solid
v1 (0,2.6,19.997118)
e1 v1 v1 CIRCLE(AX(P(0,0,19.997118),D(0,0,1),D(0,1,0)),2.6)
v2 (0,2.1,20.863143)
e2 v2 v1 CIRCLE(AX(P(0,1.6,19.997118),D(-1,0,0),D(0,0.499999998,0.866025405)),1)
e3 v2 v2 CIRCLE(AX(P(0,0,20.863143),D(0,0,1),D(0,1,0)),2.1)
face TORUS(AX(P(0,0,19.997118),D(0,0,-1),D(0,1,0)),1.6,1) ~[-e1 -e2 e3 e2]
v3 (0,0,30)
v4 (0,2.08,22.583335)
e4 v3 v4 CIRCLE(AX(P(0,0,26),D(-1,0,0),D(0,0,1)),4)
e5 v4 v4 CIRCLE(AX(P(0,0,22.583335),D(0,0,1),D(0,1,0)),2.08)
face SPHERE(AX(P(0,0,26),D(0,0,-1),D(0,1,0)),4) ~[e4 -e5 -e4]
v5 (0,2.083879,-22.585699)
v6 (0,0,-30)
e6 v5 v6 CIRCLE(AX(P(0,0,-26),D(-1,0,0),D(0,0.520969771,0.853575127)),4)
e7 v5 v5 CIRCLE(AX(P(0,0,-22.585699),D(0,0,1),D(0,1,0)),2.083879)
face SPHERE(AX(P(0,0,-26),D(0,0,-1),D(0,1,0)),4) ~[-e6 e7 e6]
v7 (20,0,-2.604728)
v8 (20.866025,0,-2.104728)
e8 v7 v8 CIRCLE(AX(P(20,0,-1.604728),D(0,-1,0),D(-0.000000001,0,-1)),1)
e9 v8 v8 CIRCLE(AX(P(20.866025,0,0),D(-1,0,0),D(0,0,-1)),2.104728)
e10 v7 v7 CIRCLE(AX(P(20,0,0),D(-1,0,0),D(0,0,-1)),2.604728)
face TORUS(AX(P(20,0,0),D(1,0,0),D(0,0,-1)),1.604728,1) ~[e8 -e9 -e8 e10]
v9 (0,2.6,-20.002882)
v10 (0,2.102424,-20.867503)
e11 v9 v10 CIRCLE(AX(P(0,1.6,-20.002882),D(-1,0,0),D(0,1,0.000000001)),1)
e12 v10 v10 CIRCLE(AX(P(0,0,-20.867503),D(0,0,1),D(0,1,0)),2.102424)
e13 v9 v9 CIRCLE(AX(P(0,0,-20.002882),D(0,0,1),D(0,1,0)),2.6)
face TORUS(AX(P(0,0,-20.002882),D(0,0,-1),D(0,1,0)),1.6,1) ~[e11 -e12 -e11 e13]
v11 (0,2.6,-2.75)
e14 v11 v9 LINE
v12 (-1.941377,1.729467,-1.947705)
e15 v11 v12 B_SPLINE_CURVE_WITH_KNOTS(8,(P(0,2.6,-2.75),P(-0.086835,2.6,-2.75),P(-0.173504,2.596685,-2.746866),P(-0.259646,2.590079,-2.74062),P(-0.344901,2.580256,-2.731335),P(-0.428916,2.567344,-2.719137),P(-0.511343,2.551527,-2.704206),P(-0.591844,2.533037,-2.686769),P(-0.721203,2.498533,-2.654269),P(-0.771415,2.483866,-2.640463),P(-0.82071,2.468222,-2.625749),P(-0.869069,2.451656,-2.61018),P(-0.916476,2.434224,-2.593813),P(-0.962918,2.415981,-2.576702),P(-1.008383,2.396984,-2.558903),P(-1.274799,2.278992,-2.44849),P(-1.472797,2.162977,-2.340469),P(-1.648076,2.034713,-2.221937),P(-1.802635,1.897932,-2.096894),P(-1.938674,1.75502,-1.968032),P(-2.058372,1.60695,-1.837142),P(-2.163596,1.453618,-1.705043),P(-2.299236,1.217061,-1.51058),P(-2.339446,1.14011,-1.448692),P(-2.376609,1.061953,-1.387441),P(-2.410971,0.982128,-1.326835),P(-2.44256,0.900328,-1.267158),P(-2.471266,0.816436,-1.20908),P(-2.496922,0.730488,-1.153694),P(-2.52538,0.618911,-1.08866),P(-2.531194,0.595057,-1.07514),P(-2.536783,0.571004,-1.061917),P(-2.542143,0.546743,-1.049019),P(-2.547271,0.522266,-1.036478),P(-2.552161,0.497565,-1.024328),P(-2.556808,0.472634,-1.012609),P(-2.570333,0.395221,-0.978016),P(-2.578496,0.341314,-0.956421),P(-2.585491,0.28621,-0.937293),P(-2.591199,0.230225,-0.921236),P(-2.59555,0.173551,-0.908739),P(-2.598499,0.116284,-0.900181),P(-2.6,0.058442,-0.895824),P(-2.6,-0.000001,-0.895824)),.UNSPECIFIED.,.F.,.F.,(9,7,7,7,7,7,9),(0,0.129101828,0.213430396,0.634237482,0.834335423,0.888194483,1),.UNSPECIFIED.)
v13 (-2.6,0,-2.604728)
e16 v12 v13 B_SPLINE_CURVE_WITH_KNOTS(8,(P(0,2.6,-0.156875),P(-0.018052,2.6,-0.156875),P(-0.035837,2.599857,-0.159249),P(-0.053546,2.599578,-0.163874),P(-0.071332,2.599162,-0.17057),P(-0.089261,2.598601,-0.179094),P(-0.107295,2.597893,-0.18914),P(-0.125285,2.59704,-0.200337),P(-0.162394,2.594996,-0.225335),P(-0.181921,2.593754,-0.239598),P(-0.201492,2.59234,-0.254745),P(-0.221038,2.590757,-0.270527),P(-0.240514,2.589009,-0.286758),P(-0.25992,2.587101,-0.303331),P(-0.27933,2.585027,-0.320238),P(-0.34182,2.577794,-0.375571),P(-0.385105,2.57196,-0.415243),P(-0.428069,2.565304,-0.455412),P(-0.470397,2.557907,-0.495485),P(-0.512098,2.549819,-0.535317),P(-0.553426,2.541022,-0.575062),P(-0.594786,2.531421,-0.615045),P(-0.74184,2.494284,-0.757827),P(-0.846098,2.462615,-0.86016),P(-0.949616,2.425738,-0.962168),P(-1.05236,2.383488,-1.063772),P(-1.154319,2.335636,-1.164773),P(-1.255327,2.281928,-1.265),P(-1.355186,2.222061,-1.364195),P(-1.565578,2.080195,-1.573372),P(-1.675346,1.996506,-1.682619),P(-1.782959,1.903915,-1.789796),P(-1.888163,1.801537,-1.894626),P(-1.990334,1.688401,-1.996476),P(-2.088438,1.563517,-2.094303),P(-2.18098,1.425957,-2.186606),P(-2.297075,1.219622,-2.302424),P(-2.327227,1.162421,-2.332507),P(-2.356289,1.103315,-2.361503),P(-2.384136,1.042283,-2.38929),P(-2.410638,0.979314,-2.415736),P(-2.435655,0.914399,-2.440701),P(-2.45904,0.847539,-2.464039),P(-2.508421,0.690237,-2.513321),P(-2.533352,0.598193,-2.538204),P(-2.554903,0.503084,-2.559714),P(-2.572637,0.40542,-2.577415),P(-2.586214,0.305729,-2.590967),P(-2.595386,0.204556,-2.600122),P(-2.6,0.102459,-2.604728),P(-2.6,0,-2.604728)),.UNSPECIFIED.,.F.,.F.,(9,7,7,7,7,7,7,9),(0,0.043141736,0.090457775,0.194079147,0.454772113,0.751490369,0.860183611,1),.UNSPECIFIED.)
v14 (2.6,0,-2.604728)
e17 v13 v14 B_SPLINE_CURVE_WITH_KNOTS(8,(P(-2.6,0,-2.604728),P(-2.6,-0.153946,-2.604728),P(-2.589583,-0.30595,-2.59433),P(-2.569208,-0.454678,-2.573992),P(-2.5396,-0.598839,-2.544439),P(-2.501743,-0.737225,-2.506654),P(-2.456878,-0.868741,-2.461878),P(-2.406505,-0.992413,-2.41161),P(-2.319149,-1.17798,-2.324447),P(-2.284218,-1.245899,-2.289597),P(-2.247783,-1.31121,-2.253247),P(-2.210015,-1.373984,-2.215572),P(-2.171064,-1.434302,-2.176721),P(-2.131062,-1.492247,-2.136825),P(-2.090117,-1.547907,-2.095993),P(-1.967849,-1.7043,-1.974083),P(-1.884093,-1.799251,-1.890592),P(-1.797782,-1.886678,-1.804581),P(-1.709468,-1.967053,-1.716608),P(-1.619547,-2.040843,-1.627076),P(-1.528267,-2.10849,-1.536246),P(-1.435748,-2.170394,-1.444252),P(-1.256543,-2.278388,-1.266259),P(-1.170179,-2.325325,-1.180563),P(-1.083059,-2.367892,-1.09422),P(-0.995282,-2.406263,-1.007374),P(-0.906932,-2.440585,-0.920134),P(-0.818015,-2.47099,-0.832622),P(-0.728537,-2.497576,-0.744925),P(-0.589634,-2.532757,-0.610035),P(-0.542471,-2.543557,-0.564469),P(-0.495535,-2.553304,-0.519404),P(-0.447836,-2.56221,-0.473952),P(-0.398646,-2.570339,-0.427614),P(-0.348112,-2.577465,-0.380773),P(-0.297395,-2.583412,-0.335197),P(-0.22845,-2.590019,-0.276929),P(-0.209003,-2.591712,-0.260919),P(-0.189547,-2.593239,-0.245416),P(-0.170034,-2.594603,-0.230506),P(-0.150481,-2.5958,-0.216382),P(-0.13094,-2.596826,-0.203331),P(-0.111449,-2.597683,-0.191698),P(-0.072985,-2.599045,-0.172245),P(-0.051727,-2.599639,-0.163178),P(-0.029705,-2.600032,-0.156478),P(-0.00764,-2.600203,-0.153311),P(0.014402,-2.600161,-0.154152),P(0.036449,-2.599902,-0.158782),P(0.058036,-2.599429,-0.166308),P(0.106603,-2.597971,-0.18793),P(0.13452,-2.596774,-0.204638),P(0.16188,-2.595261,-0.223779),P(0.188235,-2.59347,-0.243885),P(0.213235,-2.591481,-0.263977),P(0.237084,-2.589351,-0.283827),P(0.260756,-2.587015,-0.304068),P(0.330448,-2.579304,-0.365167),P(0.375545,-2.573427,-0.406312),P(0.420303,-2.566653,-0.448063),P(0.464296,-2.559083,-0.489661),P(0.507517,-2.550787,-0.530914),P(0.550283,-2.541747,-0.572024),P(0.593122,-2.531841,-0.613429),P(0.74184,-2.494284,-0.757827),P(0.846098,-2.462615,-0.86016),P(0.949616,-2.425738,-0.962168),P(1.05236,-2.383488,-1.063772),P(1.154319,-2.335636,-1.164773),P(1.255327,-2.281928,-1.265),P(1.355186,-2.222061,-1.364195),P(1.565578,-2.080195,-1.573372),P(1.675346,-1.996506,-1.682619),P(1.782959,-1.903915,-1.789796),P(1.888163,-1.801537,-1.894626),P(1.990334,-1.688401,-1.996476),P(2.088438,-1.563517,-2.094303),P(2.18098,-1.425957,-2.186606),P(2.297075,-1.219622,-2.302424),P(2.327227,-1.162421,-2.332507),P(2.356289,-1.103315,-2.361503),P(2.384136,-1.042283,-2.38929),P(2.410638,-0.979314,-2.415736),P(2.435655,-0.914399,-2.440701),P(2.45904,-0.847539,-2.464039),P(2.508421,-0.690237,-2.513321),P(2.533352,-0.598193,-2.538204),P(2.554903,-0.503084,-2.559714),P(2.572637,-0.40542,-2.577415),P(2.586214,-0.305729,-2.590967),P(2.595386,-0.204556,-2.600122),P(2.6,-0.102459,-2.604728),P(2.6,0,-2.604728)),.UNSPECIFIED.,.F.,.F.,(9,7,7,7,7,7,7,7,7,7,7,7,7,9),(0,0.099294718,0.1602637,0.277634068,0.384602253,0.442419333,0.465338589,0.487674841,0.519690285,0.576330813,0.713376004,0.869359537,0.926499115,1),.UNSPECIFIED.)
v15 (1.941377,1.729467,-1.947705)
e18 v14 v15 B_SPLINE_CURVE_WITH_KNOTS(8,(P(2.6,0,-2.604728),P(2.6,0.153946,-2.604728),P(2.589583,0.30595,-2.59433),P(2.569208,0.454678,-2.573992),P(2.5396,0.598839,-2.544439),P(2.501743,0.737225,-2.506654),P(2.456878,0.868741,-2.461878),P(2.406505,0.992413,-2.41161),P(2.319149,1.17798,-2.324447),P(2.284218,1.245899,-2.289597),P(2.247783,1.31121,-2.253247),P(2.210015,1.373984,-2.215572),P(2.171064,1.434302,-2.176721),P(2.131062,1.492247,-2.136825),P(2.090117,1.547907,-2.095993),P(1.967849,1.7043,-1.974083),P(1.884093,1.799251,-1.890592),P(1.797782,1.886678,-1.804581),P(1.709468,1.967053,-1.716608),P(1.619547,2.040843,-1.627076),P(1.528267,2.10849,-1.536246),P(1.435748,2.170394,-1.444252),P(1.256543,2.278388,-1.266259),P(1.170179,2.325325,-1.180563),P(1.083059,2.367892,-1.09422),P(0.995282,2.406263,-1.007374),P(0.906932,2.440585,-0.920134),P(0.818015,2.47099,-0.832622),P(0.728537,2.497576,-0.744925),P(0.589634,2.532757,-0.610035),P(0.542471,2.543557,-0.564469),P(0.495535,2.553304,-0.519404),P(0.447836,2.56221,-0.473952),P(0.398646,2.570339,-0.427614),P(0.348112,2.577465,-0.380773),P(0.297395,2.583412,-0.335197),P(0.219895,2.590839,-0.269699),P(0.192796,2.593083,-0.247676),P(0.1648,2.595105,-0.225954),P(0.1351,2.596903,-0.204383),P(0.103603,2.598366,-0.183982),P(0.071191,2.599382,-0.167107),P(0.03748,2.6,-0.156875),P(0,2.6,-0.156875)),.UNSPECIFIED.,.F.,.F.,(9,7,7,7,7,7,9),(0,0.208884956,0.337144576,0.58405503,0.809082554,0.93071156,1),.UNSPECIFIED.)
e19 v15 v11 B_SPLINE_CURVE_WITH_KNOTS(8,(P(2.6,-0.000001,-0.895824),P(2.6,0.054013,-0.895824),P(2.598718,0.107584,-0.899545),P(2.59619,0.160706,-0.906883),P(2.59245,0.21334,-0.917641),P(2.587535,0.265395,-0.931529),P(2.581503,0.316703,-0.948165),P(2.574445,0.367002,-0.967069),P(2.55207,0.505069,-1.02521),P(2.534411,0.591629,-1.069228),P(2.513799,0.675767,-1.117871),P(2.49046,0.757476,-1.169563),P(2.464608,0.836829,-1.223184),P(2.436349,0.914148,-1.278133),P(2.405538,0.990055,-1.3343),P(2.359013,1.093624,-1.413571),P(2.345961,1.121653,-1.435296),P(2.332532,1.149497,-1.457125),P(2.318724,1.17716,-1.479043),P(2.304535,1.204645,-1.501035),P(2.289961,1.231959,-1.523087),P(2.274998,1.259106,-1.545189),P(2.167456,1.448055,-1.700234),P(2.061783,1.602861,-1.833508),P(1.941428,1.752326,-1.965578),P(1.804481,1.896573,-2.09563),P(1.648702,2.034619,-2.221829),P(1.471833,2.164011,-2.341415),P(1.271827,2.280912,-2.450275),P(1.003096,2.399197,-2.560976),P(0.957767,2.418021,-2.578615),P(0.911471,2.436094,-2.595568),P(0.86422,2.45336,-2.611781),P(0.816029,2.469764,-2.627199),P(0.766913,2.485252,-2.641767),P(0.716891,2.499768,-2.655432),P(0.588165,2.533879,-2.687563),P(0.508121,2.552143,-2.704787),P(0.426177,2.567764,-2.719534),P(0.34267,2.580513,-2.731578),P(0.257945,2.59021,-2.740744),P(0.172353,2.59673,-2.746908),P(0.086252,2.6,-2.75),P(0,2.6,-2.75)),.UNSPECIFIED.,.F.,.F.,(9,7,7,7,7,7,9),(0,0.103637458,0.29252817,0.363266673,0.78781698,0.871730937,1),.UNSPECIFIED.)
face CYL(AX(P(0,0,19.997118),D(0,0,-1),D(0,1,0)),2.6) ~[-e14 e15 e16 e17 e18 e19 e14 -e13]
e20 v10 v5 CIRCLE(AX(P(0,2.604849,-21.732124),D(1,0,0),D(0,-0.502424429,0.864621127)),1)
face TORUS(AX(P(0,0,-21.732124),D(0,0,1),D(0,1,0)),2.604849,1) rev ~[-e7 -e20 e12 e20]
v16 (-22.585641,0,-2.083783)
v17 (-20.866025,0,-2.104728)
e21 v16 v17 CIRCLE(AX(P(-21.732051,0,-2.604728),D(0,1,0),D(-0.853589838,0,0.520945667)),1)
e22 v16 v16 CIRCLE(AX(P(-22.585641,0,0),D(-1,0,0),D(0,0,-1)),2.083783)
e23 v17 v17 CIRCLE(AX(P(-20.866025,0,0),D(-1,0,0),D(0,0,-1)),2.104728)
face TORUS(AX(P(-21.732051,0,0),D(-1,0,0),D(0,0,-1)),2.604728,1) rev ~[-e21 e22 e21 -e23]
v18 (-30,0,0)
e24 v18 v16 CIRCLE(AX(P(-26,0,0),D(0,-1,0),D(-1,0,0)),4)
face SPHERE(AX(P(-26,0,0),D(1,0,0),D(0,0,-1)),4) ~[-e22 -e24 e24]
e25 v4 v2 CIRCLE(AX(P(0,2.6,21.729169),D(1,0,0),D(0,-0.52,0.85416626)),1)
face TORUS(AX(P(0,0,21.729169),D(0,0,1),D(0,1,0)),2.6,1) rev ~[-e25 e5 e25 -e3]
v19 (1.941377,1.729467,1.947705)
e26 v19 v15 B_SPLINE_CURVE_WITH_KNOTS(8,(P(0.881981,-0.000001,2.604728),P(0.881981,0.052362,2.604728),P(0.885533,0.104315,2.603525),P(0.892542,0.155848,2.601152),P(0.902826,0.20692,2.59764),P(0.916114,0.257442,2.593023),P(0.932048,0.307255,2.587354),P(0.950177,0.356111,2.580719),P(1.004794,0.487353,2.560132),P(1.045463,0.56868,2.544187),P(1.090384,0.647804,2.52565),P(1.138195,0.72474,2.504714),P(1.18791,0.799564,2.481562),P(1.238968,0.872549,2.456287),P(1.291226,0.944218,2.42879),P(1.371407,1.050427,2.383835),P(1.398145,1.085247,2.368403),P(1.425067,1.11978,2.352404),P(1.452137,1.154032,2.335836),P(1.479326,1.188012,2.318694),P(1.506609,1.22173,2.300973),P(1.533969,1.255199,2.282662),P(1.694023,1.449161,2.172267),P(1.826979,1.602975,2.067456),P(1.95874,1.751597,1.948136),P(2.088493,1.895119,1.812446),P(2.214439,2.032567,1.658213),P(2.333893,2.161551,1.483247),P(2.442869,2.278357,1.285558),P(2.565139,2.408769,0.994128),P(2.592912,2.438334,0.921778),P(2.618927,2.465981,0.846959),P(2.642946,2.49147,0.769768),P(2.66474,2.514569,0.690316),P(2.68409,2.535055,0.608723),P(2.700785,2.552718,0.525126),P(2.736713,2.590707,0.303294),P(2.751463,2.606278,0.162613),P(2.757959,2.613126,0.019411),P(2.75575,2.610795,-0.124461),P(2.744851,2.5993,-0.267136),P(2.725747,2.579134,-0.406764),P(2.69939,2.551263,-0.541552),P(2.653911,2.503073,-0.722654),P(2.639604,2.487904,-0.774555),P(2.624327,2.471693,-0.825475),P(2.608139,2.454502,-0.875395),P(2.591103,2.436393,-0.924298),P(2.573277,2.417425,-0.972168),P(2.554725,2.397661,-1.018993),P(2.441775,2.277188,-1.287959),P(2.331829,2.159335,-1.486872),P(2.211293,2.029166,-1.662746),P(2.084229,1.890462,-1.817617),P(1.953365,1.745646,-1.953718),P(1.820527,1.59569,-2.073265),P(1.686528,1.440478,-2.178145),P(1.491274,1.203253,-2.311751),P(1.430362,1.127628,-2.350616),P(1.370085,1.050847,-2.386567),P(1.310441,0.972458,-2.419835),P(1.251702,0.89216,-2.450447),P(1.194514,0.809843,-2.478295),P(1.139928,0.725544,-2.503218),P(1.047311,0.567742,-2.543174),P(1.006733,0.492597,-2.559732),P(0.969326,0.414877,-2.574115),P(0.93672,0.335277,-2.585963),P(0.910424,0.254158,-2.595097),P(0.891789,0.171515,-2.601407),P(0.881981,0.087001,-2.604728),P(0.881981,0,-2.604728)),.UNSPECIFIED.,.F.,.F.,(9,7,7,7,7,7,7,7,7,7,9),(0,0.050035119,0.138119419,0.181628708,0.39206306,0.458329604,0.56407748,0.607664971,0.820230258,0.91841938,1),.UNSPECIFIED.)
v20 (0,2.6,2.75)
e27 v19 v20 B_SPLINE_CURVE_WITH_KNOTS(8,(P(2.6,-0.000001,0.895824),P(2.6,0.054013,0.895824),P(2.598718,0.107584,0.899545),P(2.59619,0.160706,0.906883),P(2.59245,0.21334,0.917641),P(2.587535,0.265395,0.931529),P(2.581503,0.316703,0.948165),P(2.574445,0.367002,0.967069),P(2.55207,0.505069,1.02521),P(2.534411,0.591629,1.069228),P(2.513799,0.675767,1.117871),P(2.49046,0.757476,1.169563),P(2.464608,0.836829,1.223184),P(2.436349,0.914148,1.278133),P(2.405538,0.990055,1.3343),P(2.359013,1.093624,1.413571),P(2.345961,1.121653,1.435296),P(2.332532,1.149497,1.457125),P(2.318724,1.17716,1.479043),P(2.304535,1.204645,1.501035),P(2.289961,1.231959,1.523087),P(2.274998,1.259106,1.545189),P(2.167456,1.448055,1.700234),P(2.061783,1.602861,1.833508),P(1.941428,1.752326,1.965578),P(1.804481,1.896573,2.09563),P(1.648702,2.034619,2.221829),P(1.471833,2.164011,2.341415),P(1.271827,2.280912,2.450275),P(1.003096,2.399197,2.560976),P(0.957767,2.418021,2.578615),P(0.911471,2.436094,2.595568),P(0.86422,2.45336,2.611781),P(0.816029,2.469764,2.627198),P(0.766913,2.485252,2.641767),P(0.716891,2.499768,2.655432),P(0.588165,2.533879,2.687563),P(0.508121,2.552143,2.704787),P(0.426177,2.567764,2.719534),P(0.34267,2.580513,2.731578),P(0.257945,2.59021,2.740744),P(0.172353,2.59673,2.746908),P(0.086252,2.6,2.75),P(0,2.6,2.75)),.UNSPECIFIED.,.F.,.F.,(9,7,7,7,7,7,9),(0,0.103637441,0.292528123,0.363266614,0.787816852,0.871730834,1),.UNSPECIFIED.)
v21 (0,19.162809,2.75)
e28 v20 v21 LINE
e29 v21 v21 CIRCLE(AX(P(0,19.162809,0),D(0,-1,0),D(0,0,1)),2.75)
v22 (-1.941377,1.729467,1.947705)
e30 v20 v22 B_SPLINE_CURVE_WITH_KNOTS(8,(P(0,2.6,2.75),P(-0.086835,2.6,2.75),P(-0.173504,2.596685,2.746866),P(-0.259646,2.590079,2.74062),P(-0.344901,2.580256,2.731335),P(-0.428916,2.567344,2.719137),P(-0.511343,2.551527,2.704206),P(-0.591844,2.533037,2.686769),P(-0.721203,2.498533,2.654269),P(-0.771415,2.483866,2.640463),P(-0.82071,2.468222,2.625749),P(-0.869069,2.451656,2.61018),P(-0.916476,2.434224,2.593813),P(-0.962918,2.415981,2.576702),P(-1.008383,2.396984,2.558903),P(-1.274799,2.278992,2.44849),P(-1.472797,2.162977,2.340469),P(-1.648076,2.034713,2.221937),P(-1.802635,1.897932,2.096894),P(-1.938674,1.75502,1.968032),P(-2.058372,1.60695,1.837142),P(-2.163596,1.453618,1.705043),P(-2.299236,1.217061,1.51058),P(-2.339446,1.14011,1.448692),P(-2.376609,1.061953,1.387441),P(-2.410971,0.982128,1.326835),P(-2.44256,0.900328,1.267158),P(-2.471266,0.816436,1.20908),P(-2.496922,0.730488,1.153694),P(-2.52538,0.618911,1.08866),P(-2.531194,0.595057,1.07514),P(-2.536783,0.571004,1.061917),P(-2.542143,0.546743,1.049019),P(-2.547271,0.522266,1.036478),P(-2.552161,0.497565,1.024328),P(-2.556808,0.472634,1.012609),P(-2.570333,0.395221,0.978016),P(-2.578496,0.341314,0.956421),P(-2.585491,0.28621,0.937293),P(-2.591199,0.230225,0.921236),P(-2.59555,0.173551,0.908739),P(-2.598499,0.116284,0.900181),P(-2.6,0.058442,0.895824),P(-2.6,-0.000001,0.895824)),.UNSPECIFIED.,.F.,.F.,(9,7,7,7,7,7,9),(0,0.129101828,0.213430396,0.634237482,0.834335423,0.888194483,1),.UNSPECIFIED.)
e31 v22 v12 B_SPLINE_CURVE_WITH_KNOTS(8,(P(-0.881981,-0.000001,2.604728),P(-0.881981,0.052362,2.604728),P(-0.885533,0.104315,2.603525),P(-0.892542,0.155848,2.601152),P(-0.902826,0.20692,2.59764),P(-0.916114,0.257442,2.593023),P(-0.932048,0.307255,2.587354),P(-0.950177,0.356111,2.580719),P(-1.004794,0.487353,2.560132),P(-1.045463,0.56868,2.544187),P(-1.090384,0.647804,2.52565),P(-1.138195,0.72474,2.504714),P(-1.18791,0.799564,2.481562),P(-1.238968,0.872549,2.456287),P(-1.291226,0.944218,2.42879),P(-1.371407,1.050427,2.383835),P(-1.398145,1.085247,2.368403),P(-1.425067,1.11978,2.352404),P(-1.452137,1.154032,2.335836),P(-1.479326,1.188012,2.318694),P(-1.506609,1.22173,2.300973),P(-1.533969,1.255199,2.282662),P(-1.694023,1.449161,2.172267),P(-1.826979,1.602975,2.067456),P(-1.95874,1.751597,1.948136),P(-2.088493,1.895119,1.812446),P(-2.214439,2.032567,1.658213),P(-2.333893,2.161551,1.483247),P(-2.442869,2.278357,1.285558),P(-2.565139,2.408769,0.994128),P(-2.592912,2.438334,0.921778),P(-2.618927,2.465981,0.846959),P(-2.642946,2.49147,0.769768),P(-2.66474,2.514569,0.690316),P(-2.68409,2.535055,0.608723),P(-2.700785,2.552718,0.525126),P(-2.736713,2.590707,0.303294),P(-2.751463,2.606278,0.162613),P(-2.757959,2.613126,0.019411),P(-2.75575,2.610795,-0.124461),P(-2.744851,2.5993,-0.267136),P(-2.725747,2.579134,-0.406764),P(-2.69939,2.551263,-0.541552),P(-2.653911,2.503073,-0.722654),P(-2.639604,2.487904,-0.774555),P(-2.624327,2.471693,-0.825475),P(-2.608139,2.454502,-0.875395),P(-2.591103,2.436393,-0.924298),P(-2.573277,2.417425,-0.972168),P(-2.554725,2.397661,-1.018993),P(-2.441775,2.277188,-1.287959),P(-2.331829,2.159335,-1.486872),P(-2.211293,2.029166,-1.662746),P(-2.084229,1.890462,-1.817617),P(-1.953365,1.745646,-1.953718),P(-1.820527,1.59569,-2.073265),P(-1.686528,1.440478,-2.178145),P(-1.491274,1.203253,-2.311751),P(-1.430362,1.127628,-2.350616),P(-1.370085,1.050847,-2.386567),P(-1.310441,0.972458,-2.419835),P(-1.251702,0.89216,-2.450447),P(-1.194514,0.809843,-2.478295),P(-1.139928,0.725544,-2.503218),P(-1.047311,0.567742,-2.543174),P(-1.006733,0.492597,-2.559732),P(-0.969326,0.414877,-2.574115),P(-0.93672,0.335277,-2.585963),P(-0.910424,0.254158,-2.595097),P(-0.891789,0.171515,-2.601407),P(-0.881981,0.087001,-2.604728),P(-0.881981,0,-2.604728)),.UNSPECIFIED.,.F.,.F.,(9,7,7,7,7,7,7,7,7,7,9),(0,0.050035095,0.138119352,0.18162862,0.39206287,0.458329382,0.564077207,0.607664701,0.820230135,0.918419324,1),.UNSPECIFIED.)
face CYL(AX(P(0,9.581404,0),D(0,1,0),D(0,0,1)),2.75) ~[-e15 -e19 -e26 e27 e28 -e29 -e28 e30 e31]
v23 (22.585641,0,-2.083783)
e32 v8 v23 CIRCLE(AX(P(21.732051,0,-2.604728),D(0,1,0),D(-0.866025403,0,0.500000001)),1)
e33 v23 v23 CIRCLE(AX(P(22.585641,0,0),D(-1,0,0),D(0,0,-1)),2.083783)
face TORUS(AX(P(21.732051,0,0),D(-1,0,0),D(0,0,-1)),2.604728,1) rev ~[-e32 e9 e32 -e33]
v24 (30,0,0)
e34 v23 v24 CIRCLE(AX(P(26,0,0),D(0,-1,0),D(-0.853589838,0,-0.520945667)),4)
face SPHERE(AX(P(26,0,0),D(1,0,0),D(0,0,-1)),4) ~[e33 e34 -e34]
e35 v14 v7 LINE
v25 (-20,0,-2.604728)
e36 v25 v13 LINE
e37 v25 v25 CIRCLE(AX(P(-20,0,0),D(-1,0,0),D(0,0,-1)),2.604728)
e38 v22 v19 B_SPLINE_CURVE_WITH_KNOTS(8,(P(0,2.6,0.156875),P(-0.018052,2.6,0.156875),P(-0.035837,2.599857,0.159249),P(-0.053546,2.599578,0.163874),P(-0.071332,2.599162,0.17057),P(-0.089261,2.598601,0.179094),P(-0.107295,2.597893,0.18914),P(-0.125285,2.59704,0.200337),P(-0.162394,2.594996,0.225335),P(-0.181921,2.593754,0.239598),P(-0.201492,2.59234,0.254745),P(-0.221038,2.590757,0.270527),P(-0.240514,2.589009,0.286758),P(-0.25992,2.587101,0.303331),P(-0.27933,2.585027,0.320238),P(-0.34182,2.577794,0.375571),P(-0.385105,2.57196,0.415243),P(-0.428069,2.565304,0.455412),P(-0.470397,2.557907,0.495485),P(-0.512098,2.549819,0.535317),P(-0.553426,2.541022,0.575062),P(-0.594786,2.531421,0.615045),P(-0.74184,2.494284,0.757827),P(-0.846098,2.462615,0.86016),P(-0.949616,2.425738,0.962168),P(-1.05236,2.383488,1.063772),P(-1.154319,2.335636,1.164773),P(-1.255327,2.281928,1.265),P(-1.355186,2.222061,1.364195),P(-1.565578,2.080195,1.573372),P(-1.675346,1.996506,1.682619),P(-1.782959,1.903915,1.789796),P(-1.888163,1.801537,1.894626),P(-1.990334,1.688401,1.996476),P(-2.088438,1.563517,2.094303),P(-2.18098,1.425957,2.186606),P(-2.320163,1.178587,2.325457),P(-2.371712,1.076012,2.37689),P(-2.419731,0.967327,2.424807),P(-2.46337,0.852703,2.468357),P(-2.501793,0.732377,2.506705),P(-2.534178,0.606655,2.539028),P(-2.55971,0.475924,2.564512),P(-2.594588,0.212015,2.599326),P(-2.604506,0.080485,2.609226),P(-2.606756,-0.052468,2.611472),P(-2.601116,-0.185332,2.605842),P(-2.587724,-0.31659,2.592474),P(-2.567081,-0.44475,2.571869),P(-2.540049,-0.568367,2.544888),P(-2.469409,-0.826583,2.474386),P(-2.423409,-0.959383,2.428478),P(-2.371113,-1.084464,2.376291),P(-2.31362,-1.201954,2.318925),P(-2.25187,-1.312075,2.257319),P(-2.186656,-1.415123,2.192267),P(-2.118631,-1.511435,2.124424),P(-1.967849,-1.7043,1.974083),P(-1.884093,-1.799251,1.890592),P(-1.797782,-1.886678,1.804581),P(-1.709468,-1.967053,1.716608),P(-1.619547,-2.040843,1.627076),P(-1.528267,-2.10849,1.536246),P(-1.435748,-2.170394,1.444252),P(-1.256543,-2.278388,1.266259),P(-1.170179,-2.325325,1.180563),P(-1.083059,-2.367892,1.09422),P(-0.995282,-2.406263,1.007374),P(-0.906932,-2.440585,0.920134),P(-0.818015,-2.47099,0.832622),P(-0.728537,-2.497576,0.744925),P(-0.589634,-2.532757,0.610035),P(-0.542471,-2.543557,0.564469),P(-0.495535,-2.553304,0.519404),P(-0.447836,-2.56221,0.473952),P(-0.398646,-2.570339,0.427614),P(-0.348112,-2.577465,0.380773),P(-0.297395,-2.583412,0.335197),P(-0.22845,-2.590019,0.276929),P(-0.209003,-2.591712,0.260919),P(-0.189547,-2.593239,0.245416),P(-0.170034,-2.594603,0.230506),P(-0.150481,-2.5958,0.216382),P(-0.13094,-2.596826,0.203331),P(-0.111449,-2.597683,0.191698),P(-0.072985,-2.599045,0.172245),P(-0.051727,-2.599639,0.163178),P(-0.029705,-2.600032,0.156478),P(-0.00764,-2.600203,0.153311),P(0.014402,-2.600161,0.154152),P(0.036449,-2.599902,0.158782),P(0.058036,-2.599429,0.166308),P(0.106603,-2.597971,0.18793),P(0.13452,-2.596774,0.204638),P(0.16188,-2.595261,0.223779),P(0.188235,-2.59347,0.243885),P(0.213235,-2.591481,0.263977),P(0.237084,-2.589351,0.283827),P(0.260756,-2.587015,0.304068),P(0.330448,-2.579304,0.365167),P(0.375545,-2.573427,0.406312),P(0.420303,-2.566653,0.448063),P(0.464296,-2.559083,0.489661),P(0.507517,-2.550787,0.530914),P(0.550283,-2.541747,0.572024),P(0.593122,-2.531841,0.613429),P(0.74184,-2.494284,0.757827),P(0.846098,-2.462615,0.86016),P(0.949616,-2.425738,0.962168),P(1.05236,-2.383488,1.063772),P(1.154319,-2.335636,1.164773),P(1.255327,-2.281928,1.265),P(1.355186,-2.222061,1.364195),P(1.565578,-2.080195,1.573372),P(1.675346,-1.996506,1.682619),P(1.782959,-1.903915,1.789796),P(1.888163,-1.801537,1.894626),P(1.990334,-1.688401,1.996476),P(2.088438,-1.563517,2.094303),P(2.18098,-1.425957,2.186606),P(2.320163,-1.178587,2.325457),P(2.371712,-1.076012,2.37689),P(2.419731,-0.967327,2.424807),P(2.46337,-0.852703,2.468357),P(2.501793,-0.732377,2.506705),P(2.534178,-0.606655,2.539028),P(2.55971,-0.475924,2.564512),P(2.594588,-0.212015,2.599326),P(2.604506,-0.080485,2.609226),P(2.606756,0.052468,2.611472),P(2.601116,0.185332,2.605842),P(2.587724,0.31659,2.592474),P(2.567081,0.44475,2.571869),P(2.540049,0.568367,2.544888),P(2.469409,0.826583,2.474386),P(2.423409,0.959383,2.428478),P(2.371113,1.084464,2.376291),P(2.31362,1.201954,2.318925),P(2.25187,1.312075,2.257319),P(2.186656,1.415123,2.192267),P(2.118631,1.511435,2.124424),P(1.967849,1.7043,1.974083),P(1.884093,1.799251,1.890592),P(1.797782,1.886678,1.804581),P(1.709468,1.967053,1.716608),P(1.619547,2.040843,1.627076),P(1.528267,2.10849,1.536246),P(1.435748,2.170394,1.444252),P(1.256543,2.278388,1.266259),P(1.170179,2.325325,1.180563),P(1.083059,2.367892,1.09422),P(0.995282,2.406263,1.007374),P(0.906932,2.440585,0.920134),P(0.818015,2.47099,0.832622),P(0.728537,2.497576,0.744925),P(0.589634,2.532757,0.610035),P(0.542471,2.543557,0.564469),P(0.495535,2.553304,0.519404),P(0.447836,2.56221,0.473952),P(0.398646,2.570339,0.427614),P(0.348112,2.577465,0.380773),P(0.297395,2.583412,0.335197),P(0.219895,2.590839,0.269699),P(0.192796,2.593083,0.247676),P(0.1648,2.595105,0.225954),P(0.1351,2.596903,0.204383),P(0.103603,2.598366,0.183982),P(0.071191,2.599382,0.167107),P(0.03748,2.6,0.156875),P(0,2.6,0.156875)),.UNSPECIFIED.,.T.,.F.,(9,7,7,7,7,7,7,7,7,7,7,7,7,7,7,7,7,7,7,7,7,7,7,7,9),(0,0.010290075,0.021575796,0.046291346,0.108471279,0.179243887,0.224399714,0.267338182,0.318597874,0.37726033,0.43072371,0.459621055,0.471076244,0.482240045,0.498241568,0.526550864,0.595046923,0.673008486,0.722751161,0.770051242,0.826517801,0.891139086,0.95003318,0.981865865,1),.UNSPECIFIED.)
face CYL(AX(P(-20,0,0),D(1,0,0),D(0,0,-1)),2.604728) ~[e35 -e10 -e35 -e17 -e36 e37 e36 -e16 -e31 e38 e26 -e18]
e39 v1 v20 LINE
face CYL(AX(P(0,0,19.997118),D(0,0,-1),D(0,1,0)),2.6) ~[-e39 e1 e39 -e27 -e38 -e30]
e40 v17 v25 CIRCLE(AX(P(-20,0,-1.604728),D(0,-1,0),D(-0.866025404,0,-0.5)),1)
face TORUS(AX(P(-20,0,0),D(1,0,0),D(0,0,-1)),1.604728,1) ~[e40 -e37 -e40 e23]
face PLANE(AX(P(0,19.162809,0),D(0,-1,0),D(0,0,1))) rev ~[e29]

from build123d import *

# Parameters (mm, degrees)
SKETCH3_W = 2.75
SKETCH3_H = 19.162808803


with BuildPart() as part:
    # Sketch1 → Revolve1 (revolve)
    with BuildSketch(Plane.XY, mode=Mode.PRIVATE) as revolve1_sk:
        with BuildLine():
            Line((30, 0), (-30, 0))
            ThreePointArc((-30, 0), (-27.082257498, 3.85080754), (-22.585640646, 2.083782667))
            ThreePointArc((-22.585640646, 2.083782667), (-21.719871273, 1.604802507), (-20.866025404, 2.104728333))
            ThreePointArc((-20.866025404, 2.104728333), (-20.5, 2.470753737), (-20, 2.604728333))
            Line((-20, 2.604728333), (20, 2.604728333))
            ThreePointArc((20, 2.604728333), (20.5, 2.470753737), (20.866025404, 2.104728333))
            ThreePointArc((20.866025404, 2.104728333), (21.719871273, 1.604802507), (22.585640646, 2.083782667))
            ThreePointArc((22.585640646, 2.083782667), (27.082257498, 3.85080754), (30, 0))
        make_face()
    revolve(revolve1_sk.sketch.rotate(Axis((30, 0, 0), (-1, 0, 0)), 90), axis=Axis((30, 0, 0), (-1, 0, 0)))

    # Sketch2 → Revolve4 (revolve)
    with BuildSketch(Plane(origin=(0, 0, 0), x_dir=(0, 0, -1), z_dir=(1, 0, 0))):
        with BuildLine():
            Line((0, 0), (-30, 0))
            ThreePointArc((-30, 0), (-27.080124955, 3.851406247), (-22.583334959, 2.08))
            ThreePointArc((-22.583334959, 2.08), (-21.717542874, 1.600067582), (-20.863143295, 2.1))
            ThreePointArc((-20.863143295, 2.1), (-20.497117892, 2.466025404), (-19.997117892, 2.6))
            Line((-19.997117892, 2.6), (0.002882108, 2.6))
            Line((0.002882108, 2.6), (20.002882108, 2.6))
            ThreePointArc((20.002882108, 2.6), (20.501668422, 2.466724993), (20.867503236, 2.102424427))
            ThreePointArc((20.867503236, 2.102424427), (21.721331497, 1.6049071), (22.585699491, 2.083879084))
            ThreePointArc((22.585699491, 2.083879084), (27.082311869, 3.850792258), (30, 0))
            Line((30, 0), (0, 0))
        make_face()
    revolve(axis=Axis((0, 0, 0), (0, 0, 1)))

    # Sketch3 → Revolve5 (revolve)
    with BuildSketch(Plane.XY, mode=Mode.PRIVATE) as revolve5_sk:
        with Locations((-1.375, 9.581404402)):
            Rectangle(SKETCH3_W, SKETCH3_H)
    revolve(revolve5_sk.sketch.rotate(Axis((0, 19.162808803, 0), (0, -1, 0)), 270), axis=Axis((0, 19.162808803, 0), (0, -1, 0)))


solid = part.part
